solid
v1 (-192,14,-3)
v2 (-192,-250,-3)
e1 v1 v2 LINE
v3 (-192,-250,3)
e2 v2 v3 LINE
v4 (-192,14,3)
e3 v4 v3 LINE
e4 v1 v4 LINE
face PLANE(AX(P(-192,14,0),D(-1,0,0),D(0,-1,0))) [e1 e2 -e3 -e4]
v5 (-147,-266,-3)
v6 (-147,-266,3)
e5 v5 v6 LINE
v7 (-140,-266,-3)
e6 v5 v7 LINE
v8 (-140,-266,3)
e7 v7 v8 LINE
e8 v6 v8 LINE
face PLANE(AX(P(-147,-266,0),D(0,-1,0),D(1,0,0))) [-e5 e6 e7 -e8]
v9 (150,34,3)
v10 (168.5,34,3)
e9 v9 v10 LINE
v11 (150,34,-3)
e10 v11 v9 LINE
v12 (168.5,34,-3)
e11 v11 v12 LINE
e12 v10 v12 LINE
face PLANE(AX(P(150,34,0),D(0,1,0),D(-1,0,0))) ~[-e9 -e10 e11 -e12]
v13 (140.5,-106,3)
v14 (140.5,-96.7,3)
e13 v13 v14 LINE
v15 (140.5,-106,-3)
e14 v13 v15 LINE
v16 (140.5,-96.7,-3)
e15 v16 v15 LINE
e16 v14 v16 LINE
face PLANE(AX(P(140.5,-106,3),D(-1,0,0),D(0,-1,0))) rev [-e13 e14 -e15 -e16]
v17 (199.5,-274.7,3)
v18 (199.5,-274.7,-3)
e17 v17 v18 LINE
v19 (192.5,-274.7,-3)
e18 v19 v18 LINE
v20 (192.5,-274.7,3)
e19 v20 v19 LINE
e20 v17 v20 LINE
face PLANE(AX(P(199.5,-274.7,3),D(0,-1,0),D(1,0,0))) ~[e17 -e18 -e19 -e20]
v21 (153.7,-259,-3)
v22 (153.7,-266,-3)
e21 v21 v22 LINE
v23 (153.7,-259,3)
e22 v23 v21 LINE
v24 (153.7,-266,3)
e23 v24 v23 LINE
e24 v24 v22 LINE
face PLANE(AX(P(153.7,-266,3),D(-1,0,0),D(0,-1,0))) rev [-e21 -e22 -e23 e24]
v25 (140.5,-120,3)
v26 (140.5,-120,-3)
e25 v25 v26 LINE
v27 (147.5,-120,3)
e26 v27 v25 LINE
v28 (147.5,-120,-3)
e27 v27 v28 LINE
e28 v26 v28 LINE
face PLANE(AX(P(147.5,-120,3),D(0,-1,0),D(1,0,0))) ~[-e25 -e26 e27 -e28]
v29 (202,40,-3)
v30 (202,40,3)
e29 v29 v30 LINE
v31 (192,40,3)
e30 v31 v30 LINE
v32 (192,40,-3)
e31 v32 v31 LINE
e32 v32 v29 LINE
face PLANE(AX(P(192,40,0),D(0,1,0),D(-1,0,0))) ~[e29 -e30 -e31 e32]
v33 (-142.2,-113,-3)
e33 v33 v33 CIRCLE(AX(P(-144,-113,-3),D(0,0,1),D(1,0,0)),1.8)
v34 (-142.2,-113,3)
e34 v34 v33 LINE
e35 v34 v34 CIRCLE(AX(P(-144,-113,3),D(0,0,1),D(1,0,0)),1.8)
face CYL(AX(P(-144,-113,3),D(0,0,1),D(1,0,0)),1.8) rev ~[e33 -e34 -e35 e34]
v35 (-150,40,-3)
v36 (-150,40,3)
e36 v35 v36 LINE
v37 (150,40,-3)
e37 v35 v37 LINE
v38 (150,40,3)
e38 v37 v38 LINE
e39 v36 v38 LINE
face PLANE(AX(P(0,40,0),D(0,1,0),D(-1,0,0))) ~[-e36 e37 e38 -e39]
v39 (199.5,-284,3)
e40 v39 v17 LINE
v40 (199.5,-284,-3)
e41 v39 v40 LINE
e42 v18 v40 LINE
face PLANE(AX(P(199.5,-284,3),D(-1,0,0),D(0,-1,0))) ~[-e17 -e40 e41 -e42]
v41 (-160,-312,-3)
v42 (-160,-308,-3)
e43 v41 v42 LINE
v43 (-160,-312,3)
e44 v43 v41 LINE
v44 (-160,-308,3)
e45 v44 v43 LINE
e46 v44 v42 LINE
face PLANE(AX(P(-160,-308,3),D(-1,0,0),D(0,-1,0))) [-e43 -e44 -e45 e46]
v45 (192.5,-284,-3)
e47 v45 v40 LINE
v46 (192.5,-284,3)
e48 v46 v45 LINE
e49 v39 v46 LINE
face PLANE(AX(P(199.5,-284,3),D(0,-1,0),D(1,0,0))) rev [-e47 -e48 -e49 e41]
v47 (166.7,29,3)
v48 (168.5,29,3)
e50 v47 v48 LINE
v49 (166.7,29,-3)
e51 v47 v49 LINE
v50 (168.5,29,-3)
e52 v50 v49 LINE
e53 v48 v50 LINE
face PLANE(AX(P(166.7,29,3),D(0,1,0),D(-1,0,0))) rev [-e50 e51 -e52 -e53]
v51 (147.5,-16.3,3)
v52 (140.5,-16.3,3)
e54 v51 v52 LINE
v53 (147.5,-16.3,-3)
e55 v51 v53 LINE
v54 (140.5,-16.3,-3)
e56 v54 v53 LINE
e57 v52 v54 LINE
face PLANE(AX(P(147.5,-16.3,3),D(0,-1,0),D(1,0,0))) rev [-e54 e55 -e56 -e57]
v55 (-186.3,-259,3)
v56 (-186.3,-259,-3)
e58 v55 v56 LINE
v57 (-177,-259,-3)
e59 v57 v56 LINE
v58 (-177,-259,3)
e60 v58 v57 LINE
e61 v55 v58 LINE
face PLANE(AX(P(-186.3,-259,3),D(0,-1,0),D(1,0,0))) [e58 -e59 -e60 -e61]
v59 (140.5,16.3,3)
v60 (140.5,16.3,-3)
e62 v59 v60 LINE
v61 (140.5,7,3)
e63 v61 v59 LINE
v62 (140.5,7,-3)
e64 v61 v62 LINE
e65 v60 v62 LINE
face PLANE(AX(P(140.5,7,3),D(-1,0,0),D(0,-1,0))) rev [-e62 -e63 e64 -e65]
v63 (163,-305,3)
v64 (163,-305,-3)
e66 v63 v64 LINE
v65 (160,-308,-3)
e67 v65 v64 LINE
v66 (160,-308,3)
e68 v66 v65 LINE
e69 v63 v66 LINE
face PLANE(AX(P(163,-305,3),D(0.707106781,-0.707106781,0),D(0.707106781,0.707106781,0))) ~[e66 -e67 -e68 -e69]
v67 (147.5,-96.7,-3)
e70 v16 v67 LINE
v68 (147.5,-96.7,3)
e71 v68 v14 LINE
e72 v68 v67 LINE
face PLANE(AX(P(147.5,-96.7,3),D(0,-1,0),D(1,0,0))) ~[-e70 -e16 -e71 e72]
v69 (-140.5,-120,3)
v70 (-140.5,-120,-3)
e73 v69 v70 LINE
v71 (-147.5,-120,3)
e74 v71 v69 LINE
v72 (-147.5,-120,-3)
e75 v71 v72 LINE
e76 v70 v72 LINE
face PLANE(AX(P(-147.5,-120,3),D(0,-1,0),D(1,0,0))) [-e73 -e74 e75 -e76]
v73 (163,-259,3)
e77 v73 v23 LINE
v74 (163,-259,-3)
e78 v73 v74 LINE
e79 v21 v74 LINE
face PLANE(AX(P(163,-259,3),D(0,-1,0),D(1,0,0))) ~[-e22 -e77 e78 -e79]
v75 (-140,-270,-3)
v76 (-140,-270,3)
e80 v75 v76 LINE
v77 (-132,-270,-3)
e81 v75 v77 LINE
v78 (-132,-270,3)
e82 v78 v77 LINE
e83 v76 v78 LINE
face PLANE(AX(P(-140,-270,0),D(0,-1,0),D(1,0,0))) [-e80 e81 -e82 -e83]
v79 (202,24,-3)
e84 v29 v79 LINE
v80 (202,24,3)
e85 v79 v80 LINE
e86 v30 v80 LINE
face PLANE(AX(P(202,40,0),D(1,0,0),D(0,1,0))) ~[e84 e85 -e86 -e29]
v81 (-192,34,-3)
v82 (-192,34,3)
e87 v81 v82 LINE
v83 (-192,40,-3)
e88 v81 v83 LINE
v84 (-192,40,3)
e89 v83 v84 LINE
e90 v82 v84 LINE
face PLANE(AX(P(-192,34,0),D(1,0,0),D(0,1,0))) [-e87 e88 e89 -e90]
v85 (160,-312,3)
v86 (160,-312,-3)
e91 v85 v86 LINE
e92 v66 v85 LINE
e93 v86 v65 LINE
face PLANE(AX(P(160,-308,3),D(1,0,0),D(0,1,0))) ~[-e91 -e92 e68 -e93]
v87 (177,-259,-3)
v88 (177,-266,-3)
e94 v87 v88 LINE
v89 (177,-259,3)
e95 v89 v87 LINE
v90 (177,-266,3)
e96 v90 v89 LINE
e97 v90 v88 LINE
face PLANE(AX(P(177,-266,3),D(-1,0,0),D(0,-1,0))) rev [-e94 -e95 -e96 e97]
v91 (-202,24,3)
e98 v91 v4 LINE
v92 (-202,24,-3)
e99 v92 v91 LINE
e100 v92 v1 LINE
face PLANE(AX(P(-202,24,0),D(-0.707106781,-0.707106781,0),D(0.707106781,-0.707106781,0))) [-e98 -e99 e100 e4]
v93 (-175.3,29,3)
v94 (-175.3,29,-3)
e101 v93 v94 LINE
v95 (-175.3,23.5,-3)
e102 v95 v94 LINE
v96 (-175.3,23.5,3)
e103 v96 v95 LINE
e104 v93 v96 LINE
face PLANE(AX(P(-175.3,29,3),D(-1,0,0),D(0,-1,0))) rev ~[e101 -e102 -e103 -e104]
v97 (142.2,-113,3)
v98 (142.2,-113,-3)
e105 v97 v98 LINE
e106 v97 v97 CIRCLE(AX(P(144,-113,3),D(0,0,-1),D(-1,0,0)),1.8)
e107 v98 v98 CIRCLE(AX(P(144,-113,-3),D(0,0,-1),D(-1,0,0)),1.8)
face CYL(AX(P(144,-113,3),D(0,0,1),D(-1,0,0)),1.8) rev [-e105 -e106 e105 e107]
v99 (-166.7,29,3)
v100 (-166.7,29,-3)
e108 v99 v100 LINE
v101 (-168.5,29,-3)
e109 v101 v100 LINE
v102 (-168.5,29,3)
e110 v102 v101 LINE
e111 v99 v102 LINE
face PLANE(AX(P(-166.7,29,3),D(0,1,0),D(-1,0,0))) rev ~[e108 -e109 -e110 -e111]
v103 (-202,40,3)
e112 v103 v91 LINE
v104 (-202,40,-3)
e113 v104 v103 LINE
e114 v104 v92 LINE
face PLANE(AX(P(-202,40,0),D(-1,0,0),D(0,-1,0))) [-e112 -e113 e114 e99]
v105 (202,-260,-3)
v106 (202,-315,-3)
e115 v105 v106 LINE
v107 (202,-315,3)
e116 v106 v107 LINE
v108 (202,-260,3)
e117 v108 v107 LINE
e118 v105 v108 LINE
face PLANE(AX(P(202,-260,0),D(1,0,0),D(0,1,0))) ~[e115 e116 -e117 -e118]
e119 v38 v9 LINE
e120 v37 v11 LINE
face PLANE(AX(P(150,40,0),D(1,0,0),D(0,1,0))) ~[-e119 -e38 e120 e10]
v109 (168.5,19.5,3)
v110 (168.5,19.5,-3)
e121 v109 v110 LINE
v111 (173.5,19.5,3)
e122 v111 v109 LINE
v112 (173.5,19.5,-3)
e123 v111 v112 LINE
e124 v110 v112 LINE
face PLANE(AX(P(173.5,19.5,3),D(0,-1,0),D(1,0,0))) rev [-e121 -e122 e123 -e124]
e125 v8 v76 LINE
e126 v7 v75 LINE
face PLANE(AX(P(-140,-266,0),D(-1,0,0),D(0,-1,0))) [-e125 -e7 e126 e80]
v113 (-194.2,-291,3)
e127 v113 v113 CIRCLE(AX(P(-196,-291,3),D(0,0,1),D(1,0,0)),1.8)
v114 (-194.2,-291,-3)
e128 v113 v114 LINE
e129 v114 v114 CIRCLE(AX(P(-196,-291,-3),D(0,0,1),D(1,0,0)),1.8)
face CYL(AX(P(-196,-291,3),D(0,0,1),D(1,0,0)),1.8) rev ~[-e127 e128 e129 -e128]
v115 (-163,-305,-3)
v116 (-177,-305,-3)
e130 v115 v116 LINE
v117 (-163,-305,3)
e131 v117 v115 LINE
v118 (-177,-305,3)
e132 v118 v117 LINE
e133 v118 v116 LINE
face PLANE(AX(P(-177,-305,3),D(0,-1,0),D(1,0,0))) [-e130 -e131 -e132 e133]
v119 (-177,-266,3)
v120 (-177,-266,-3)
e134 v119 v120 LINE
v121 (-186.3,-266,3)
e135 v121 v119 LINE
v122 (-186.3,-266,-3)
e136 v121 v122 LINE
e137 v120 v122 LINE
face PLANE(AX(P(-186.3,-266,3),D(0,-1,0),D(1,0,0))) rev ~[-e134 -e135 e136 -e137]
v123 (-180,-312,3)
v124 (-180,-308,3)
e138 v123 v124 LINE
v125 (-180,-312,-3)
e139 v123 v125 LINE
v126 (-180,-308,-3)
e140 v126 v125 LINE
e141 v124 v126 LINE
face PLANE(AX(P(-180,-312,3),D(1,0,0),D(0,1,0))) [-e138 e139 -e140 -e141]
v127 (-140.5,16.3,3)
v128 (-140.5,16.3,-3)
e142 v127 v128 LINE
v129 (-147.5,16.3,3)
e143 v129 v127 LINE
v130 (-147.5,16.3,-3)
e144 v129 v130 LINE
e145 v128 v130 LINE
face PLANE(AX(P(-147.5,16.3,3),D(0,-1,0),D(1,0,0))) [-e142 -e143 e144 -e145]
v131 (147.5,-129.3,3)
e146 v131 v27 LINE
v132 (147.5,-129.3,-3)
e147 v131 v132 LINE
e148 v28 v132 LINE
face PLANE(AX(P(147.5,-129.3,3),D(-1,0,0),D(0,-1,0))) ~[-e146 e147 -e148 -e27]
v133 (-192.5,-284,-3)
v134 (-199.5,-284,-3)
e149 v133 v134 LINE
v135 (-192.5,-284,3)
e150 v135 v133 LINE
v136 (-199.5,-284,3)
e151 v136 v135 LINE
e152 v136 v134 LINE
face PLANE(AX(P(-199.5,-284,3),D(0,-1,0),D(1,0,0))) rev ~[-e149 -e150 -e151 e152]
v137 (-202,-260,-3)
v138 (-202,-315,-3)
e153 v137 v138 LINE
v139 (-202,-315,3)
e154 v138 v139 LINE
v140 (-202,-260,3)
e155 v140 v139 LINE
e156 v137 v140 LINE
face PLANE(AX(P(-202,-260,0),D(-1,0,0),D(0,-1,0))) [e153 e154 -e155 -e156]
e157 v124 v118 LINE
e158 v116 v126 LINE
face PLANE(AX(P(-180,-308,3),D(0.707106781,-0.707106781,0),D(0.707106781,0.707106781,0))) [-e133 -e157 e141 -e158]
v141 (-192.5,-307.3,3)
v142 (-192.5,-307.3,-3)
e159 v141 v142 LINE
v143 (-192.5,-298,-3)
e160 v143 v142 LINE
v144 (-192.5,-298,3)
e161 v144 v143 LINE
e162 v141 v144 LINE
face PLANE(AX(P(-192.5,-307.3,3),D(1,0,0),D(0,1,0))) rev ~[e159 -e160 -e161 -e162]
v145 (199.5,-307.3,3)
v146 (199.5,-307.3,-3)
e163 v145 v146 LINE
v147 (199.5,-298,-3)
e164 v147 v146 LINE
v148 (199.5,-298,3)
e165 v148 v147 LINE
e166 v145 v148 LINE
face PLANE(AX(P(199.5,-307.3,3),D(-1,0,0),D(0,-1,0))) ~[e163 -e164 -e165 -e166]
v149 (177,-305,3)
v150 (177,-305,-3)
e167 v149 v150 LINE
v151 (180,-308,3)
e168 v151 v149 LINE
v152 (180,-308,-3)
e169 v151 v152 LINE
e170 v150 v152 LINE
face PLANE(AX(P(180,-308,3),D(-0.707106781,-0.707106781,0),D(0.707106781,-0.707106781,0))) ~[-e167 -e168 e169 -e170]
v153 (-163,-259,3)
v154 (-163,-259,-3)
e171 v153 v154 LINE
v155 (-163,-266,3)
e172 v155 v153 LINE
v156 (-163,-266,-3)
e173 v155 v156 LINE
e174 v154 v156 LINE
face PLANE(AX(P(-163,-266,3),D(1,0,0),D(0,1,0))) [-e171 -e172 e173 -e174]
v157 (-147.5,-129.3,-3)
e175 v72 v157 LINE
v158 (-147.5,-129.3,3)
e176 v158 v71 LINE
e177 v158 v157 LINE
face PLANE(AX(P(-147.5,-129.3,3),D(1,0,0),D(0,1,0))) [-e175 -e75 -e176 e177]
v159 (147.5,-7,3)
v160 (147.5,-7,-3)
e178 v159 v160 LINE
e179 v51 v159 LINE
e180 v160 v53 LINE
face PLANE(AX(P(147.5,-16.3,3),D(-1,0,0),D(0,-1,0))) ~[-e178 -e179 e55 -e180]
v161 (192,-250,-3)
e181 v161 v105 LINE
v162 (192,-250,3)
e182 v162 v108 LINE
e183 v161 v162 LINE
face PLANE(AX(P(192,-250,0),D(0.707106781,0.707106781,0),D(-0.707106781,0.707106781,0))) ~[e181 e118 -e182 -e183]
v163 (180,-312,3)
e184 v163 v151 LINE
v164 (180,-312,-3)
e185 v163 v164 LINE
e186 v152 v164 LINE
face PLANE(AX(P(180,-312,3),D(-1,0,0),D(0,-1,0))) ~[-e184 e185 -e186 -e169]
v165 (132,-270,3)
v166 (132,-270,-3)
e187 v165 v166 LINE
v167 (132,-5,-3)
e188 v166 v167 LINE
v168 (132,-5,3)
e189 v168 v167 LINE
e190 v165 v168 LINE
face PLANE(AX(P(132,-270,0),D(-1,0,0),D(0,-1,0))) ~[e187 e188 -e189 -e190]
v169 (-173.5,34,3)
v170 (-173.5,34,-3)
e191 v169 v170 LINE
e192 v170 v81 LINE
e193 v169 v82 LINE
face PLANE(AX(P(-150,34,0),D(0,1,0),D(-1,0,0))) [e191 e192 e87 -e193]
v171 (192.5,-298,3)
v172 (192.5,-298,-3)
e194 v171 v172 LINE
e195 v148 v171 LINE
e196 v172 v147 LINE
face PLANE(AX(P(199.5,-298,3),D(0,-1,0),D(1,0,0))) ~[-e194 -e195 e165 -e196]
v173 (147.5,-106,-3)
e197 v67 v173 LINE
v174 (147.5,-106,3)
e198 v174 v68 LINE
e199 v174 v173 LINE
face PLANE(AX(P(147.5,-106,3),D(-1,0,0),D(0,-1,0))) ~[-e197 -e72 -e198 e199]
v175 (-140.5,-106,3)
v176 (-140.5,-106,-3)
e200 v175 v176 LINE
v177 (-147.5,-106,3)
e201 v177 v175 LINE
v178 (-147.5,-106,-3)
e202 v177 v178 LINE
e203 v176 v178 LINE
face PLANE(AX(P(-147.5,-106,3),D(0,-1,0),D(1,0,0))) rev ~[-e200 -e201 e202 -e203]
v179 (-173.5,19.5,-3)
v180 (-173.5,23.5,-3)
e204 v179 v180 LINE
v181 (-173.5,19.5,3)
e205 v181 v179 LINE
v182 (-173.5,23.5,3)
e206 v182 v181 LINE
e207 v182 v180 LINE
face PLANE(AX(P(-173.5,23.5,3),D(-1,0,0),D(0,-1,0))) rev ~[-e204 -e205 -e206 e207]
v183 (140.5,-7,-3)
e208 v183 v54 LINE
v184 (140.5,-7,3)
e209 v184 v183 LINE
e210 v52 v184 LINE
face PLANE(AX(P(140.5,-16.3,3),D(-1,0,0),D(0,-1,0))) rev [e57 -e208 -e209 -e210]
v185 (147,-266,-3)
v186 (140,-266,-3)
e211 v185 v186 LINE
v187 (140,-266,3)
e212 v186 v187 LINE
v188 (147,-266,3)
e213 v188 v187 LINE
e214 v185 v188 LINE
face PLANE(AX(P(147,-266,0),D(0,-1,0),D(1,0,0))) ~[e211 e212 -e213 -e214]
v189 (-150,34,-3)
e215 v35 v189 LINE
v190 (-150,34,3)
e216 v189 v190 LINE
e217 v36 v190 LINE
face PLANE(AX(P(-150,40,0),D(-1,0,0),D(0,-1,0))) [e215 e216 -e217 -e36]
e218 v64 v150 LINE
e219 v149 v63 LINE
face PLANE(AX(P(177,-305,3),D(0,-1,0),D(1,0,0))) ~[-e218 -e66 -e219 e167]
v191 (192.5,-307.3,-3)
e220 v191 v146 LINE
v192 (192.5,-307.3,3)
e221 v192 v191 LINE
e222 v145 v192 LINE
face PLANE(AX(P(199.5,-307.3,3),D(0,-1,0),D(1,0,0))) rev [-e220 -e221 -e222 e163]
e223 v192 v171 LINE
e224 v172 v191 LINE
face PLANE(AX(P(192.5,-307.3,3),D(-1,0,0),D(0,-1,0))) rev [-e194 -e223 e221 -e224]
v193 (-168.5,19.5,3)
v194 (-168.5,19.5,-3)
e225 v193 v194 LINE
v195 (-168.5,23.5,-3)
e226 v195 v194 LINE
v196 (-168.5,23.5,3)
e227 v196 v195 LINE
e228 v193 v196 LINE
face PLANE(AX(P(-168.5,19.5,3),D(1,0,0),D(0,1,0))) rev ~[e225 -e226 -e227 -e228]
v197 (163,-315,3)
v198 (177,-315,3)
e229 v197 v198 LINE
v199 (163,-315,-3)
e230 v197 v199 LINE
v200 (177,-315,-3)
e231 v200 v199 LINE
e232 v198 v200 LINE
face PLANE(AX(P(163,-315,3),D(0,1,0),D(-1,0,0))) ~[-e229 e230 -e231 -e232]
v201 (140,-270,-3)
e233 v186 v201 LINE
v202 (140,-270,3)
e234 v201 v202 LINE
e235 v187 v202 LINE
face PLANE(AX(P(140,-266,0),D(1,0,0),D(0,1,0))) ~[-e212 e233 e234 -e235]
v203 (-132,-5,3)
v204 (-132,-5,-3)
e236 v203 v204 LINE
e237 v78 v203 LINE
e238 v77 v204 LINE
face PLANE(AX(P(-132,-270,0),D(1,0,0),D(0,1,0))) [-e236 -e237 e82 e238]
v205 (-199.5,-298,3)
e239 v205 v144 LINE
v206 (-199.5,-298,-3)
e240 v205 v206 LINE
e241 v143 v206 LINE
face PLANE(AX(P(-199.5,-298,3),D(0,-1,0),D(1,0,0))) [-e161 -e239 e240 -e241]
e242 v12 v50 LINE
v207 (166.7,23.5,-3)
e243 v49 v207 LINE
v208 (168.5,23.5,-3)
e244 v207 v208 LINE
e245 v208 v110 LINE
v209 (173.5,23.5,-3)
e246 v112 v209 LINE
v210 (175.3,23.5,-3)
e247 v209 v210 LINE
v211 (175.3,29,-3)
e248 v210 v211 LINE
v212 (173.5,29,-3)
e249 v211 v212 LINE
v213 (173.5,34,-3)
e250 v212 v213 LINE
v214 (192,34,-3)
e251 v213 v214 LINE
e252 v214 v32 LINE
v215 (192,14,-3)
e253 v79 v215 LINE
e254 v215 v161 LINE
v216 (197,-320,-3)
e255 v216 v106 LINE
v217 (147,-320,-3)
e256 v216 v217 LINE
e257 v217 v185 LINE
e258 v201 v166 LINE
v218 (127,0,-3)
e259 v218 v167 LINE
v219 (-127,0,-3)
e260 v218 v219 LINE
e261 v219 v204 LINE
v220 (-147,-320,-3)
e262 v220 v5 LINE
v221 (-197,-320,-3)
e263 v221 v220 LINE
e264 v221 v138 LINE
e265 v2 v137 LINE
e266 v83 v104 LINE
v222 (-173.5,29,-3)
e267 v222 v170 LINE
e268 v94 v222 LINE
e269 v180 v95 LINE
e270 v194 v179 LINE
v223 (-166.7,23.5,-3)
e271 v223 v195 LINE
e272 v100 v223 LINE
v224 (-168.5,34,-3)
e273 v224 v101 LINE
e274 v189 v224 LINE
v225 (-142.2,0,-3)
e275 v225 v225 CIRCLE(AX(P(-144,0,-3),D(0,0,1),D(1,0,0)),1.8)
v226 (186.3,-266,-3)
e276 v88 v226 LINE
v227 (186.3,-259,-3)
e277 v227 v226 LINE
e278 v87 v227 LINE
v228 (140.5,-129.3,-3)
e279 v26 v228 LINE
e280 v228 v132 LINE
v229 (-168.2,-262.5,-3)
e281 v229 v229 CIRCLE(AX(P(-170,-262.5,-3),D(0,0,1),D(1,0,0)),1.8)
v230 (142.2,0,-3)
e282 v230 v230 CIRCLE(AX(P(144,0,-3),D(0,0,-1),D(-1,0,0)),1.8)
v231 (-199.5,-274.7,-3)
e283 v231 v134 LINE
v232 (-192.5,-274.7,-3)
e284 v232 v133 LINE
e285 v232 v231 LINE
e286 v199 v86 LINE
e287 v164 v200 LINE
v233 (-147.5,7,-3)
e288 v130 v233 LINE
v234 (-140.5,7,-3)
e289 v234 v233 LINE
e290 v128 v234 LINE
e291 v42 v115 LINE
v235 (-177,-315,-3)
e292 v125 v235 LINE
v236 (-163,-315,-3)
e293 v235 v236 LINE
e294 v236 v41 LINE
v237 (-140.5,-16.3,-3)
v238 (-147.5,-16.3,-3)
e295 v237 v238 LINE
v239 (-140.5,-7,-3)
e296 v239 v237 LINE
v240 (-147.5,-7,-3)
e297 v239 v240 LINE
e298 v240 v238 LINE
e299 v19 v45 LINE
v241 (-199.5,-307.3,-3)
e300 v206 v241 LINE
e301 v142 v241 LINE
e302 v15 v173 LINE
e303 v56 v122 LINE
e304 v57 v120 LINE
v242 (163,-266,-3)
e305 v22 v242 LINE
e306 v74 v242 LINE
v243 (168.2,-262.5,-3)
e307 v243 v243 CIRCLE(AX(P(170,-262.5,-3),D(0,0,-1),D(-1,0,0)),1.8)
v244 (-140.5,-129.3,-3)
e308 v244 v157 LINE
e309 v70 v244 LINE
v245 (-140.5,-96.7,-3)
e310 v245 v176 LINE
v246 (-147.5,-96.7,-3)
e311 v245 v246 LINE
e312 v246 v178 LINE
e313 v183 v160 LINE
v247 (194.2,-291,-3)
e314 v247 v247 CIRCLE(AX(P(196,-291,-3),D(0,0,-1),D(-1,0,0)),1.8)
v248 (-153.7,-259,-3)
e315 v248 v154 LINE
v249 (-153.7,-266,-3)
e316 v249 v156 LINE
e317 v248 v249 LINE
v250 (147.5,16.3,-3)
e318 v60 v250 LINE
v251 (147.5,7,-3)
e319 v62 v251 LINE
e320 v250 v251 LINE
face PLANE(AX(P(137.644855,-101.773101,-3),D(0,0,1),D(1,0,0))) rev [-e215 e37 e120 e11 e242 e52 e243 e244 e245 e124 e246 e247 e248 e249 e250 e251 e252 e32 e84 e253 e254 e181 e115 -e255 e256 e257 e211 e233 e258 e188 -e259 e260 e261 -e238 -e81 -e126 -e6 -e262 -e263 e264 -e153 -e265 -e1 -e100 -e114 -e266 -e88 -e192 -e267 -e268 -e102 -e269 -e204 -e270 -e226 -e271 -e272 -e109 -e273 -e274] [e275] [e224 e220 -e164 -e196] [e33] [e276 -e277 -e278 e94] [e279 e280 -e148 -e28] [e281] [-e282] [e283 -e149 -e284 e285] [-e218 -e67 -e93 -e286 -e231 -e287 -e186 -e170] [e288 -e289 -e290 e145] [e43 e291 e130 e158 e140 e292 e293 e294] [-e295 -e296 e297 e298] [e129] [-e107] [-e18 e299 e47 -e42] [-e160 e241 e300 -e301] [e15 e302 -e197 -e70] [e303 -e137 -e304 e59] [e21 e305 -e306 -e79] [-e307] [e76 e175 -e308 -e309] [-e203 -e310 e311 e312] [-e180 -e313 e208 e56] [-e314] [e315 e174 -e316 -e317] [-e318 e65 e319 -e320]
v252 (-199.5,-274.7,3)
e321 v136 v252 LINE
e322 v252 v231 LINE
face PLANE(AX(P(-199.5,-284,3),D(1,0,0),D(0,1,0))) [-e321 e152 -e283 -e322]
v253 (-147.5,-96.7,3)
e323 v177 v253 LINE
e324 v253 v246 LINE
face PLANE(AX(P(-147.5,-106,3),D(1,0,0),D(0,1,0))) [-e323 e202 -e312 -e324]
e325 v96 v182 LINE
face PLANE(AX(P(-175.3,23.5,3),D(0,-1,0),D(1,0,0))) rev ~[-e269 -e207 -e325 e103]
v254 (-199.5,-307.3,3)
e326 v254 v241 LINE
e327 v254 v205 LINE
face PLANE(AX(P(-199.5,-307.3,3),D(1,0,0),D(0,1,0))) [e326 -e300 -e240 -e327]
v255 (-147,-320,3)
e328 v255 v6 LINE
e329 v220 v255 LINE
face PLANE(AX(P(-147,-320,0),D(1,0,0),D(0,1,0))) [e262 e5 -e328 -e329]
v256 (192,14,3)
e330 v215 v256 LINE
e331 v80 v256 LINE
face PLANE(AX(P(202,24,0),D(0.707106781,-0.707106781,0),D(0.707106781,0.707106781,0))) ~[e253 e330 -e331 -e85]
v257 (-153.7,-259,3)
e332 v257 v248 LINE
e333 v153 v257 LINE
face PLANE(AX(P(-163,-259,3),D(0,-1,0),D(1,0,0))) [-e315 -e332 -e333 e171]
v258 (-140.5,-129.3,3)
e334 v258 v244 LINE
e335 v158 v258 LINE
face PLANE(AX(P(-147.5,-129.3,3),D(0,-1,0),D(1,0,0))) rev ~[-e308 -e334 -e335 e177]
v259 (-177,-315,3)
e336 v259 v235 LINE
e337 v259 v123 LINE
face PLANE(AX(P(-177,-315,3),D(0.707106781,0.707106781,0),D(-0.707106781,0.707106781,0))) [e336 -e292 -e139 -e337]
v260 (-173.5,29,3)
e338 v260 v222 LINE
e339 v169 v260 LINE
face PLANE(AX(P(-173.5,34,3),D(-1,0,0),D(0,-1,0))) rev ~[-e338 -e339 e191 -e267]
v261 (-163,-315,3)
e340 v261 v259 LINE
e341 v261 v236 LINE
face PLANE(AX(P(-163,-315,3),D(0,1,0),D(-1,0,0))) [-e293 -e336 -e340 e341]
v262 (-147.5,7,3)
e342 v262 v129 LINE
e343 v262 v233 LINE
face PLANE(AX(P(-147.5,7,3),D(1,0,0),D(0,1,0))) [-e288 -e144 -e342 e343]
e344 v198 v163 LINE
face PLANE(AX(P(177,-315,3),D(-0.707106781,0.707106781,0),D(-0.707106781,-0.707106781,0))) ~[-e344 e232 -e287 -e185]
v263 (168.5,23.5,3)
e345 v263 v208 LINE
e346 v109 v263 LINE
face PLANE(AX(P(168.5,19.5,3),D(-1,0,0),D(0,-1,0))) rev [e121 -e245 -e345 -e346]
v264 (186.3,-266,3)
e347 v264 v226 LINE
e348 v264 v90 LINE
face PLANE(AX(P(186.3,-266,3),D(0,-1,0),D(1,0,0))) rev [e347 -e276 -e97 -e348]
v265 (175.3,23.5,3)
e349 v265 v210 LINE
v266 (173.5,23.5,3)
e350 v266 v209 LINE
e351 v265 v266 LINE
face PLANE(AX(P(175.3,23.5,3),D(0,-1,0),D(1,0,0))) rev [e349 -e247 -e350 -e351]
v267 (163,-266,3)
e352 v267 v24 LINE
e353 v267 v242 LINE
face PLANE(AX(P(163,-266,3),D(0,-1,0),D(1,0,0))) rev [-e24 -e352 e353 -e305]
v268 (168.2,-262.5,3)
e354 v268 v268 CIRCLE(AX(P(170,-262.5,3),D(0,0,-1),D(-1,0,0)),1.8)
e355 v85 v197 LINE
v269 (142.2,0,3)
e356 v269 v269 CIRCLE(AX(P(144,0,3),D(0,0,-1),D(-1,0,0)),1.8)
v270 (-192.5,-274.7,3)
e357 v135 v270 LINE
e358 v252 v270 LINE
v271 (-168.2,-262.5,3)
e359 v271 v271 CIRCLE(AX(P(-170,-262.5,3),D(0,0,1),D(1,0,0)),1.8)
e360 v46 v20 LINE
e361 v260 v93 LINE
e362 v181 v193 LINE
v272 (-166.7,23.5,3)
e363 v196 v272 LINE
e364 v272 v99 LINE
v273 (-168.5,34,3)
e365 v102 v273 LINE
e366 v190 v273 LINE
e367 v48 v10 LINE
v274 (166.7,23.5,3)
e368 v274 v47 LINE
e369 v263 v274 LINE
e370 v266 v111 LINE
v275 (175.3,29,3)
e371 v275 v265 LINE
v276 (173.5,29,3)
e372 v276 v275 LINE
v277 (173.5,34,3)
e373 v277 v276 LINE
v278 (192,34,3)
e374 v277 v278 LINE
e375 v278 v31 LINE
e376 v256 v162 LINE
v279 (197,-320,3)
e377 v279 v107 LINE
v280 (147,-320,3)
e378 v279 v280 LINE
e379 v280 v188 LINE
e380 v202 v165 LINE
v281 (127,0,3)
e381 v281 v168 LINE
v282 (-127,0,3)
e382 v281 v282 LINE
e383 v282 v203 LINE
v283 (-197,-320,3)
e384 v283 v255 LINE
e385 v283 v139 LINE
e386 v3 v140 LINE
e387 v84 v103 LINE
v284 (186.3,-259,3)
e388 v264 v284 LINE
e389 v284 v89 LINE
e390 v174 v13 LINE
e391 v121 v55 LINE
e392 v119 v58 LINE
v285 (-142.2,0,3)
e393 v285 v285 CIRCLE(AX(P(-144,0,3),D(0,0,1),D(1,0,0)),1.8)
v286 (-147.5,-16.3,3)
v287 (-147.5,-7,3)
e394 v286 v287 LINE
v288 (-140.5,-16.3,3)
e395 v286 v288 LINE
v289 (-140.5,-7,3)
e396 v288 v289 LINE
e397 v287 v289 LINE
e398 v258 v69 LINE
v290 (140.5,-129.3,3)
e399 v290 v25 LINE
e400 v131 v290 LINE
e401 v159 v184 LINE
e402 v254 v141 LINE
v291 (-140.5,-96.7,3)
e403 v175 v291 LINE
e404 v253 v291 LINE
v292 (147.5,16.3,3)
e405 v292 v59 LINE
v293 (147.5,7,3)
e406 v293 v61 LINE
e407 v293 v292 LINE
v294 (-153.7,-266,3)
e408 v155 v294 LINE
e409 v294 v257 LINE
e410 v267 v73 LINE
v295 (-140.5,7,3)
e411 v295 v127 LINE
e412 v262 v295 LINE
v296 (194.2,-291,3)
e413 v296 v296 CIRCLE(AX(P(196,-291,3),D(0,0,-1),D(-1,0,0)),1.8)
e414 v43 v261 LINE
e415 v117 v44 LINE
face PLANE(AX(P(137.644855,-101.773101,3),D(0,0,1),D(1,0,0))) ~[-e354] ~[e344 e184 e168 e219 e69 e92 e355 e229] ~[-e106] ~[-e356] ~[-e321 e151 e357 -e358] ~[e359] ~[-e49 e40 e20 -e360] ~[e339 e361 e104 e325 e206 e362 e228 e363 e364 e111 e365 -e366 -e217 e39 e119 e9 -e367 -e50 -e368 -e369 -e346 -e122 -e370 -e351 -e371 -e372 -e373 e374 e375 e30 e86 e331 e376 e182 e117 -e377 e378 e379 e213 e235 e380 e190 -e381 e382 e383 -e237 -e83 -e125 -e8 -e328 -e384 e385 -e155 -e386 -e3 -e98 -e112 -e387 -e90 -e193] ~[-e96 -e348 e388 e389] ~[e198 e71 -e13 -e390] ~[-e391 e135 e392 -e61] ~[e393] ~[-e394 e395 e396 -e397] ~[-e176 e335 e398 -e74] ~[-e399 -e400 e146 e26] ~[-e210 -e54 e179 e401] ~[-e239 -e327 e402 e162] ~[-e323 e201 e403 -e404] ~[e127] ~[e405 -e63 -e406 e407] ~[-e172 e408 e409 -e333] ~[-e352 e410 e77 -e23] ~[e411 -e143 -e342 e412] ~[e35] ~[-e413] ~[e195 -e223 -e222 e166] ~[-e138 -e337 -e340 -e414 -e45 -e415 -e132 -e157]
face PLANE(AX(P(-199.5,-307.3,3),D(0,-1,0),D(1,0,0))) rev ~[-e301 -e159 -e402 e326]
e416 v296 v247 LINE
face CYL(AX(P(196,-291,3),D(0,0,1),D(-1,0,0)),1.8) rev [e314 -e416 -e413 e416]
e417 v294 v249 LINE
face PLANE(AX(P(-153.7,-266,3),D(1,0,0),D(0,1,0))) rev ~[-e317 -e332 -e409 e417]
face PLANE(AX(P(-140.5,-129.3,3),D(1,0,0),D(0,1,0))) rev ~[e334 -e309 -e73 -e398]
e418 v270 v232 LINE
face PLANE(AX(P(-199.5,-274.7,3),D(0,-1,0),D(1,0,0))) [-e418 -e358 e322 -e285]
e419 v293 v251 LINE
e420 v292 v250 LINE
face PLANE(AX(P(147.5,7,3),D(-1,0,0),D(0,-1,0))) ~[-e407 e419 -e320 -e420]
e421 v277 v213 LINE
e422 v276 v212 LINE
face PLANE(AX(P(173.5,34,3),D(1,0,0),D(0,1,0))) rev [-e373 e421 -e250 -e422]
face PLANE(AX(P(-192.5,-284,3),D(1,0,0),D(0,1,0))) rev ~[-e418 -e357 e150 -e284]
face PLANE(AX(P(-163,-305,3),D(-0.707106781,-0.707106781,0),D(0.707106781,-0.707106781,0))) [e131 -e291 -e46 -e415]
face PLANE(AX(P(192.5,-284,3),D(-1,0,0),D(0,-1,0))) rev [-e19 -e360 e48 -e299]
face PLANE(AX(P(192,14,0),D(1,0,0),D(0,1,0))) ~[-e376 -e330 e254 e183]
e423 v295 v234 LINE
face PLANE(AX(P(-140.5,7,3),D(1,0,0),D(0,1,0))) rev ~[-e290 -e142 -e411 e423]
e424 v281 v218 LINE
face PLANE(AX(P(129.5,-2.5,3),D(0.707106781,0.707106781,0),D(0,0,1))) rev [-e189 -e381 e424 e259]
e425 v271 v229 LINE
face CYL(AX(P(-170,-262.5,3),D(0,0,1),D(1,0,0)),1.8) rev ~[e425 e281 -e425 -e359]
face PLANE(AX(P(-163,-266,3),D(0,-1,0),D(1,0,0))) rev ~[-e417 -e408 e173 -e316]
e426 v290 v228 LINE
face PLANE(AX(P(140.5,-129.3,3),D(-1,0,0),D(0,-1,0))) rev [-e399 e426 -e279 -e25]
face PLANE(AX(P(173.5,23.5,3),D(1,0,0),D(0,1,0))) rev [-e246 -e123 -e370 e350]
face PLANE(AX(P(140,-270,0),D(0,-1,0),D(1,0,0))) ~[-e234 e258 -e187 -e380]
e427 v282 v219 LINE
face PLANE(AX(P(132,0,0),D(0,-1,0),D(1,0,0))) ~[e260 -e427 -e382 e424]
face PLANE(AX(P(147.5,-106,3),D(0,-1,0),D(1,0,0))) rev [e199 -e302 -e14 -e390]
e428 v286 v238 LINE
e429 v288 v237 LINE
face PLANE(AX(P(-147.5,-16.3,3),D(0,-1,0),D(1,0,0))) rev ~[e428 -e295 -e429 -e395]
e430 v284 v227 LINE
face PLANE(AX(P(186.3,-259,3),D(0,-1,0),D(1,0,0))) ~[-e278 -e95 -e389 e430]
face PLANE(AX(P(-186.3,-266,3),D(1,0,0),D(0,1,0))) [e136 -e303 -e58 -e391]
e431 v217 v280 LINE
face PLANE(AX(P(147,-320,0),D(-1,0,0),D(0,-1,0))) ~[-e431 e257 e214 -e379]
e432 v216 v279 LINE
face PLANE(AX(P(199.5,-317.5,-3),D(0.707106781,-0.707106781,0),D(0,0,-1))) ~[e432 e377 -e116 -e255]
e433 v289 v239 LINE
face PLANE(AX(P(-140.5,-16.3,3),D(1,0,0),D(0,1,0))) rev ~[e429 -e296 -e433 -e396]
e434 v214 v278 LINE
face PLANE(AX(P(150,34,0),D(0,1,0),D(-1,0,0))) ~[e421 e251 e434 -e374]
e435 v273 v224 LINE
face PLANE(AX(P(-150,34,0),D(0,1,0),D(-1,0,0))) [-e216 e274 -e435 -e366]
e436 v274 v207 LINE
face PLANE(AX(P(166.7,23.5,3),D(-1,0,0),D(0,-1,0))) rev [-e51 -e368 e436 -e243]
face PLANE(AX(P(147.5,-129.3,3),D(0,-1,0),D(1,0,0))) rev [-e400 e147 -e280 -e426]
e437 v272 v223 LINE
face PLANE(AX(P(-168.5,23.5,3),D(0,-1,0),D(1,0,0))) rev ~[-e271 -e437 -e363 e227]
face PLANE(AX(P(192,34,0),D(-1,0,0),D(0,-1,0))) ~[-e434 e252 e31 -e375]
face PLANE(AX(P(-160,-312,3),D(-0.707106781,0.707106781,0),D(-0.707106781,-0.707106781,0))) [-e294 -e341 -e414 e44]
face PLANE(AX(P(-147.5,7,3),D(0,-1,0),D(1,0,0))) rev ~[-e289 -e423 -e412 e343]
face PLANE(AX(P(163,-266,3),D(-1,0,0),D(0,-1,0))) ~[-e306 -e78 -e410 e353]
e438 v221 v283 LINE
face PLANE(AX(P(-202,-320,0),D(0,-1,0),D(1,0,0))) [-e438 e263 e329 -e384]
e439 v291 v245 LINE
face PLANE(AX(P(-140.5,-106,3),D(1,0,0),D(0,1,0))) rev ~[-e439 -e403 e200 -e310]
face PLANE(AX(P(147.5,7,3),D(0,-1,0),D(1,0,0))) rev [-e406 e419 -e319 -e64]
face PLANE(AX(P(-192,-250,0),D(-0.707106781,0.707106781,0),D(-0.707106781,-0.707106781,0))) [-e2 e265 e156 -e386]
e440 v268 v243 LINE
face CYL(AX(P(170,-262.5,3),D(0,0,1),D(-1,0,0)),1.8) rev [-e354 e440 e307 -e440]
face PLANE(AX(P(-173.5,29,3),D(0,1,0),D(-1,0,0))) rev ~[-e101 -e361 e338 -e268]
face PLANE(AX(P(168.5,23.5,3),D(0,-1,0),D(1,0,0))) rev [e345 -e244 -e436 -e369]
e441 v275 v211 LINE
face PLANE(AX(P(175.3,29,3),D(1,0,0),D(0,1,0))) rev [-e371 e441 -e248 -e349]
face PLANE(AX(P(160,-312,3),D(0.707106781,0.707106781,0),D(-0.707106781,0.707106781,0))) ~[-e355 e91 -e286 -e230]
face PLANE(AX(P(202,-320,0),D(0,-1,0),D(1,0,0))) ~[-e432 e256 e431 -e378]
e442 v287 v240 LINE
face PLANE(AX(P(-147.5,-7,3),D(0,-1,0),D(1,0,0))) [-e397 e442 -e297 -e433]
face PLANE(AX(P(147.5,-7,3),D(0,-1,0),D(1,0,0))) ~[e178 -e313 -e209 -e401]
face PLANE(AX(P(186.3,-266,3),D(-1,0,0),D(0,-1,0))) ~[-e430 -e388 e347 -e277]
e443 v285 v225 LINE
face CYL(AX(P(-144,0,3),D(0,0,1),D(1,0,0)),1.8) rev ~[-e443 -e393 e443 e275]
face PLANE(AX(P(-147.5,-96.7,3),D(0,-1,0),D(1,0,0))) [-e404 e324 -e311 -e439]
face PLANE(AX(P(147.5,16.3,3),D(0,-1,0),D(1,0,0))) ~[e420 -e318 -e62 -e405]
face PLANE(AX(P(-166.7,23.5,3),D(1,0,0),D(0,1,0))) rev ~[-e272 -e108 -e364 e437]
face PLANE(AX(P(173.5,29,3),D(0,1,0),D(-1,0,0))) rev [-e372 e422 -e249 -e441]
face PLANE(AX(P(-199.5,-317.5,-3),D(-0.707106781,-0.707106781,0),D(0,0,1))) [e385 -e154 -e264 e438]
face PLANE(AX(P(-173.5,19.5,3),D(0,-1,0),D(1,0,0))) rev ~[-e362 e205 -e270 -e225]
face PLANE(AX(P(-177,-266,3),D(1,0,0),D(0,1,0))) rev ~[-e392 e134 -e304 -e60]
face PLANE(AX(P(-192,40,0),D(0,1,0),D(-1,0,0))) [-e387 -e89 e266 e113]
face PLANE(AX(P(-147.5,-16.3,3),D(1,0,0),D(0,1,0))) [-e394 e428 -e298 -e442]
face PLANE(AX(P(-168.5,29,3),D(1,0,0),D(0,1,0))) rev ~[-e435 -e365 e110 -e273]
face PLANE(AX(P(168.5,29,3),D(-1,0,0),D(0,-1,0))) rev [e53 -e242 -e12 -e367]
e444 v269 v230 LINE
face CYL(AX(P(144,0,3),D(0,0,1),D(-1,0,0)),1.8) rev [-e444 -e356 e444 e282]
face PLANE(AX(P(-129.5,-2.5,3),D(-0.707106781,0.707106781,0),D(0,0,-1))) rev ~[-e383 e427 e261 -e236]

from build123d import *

# Parameters (mm, degrees)
BOSS_EXTRU_1_DEPTH      = 3
ENL_V_MAT_EXTRU_1_REACH = 8
ESQUISSE2_W             = 7
ESQUISSE2_H             = 9.3
ESQUISSE2_R             = 1.8
ESQUISSE2_W_2           = 9.3
ESQUISSE2_H_2           = 7
CHANFREIN1_SIZE         = 5


with BuildPart() as part:
    # Esquisse1 → Boss.-Extru.1 (new body, symmetric)
    with BuildSketch(Plane.XY):
        Polygon((0, 0), (0, 40), (-150, 40), (-150, 34), (-192, 34), (-192, 40), (-202, 40), (-202, 24), (-192, 14), (-192, -250), (-202, -260), (-202, -320), (-147, -320), (-147, -266), (-140, -266), (-140, -270), (-132, -270), (-132, 0), align=None)
    extrude(amount=BOSS_EXTRU_1_DEPTH, both=True)

    # Esquisse2 → Enlèv. mat.-Extru.1 (cut, up to next)
    with BuildSketch(Plane.XY.offset(3), mode=Mode.PRIVATE) as enl_v_mat_extru_1_sk1:
        with Locations((-144, 11.65)):
            Rectangle(ESQUISSE2_W, ESQUISSE2_H)
    enl_v_mat_extru_1_tool1 = extrude(enl_v_mat_extru_1_sk1.sketch, amount=-ENL_V_MAT_EXTRU_1_REACH, mode=Mode.PRIVATE) & part.part
    add(enl_v_mat_extru_1_tool1.solids().sort_by_distance((-144, 11.65, 3))[0], mode=Mode.SUBTRACT)
    # Esquisse2 → Enlèv. mat.-Extru.1 (cut, up to next)
    with BuildSketch(Plane.XY.offset(3), mode=Mode.PRIVATE) as enl_v_mat_extru_1_sk2:
        with Locations((-144, -11.65)):
            Rectangle(ESQUISSE2_W, ESQUISSE2_H)
    enl_v_mat_extru_1_tool2 = extrude(enl_v_mat_extru_1_sk2.sketch, amount=-ENL_V_MAT_EXTRU_1_REACH, mode=Mode.PRIVATE) & part.part
    add(enl_v_mat_extru_1_tool2.solids().sort_by_distance((-144, -11.65, 3))[0], mode=Mode.SUBTRACT)
    # Esquisse2 → Enlèv. mat.-Extru.1 (cut, up to next)
    with BuildSketch(Plane.XY.offset(3), mode=Mode.PRIVATE) as enl_v_mat_extru_1_sk3:
        with Locations((-144, -101.35)):
            Rectangle(ESQUISSE2_W, ESQUISSE2_H)
    enl_v_mat_extru_1_tool3 = extrude(enl_v_mat_extru_1_sk3.sketch, amount=-ENL_V_MAT_EXTRU_1_REACH, mode=Mode.PRIVATE) & part.part
    add(enl_v_mat_extru_1_tool3.solids().sort_by_distance((-144, -101.35, 3))[0], mode=Mode.SUBTRACT)
    # Esquisse2 → Enlèv. mat.-Extru.1 (cut, up to next)
    with BuildSketch(Plane.XY.offset(3), mode=Mode.PRIVATE) as enl_v_mat_extru_1_sk4:
        with Locations((-144, -113)):
            Circle(ESQUISSE2_R)
    enl_v_mat_extru_1_tool4 = extrude(enl_v_mat_extru_1_sk4.sketch, amount=-ENL_V_MAT_EXTRU_1_REACH, mode=Mode.PRIVATE) & part.part
    add(enl_v_mat_extru_1_tool4.solids().sort_by_distance((-144, -113, 3))[0], mode=Mode.SUBTRACT)
    # Esquisse2 → Enlèv. mat.-Extru.1 (cut, up to next)
    with BuildSketch(Plane.XY.offset(3), mode=Mode.PRIVATE) as enl_v_mat_extru_1_sk5:
        with Locations((-144, 0)):
            Circle(ESQUISSE2_R)
    enl_v_mat_extru_1_tool5 = extrude(enl_v_mat_extru_1_sk5.sketch, amount=-ENL_V_MAT_EXTRU_1_REACH, mode=Mode.PRIVATE) & part.part
    add(enl_v_mat_extru_1_tool5.solids().sort_by_distance((-144, 0, 3))[0], mode=Mode.SUBTRACT)
    # Esquisse2 → Enlèv. mat.-Extru.1 (cut, up to next)
    with BuildSketch(Plane.XY.offset(3), mode=Mode.PRIVATE) as enl_v_mat_extru_1_sk6:
        Polygon((-168.5, 34), (-173.5, 34), (-173.5, 29), (-175.3, 29), (-175.3, 23.5), (-173.5, 23.5), (-173.5, 19.5), (-168.5, 19.5), (-168.5, 23.5), (-166.7, 23.5), (-166.7, 29), (-168.5, 29), align=None)
    enl_v_mat_extru_1_tool6 = extrude(enl_v_mat_extru_1_sk6.sketch, amount=-ENL_V_MAT_EXTRU_1_REACH, mode=Mode.PRIVATE) & part.part
    add(enl_v_mat_extru_1_tool6.solids().sort_by_distance((-171, 26.642741, 3))[0], mode=Mode.SUBTRACT)
    # Esquisse2 → Enlèv. mat.-Extru.1 (cut, up to next)
    with BuildSketch(Plane.XY.offset(3), mode=Mode.PRIVATE) as enl_v_mat_extru_1_sk7:
        with Locations((-144, -124.65)):
            Rectangle(ESQUISSE2_W, ESQUISSE2_H)
    enl_v_mat_extru_1_tool7 = extrude(enl_v_mat_extru_1_sk7.sketch, amount=-ENL_V_MAT_EXTRU_1_REACH, mode=Mode.PRIVATE) & part.part
    add(enl_v_mat_extru_1_tool7.solids().sort_by_distance((-144, -124.65, 3))[0], mode=Mode.SUBTRACT)
    # Esquisse2 → Enlèv. mat.-Extru.1 (cut, up to next)
    with BuildSketch(Plane.XY.offset(3), mode=Mode.PRIVATE) as enl_v_mat_extru_1_sk8:
        with Locations((-158.35, -262.5)):
            Rectangle(ESQUISSE2_W_2, ESQUISSE2_H_2)
    enl_v_mat_extru_1_tool8 = extrude(enl_v_mat_extru_1_sk8.sketch, amount=-ENL_V_MAT_EXTRU_1_REACH, mode=Mode.PRIVATE) & part.part
    add(enl_v_mat_extru_1_tool8.solids().sort_by_distance((-158.35, -262.5, 3))[0], mode=Mode.SUBTRACT)
    # Esquisse2 → Enlèv. mat.-Extru.1 (cut, up to next)
    with BuildSketch(Plane.XY.offset(3), mode=Mode.PRIVATE) as enl_v_mat_extru_1_sk9:
        with Locations((-170, -262.5)):
            Circle(ESQUISSE2_R)
    enl_v_mat_extru_1_tool9 = extrude(enl_v_mat_extru_1_sk9.sketch, amount=-ENL_V_MAT_EXTRU_1_REACH, mode=Mode.PRIVATE) & part.part
    add(enl_v_mat_extru_1_tool9.solids().sort_by_distance((-170, -262.5, 3))[0], mode=Mode.SUBTRACT)
    # Esquisse2 → Enlèv. mat.-Extru.1 (cut, up to next)
    with BuildSketch(Plane.XY.offset(3), mode=Mode.PRIVATE) as enl_v_mat_extru_1_sk10:
        with Locations((-181.65, -262.5)):
            Rectangle(ESQUISSE2_W_2, ESQUISSE2_H_2)
    enl_v_mat_extru_1_tool10 = extrude(enl_v_mat_extru_1_sk10.sketch, amount=-ENL_V_MAT_EXTRU_1_REACH, mode=Mode.PRIVATE) & part.part
    add(enl_v_mat_extru_1_tool10.solids().sort_by_distance((-181.65, -262.5, 3))[0], mode=Mode.SUBTRACT)
    # Esquisse2 → Enlèv. mat.-Extru.1 (cut, up to next)
    with BuildSketch(Plane.XY.offset(3), mode=Mode.PRIVATE) as enl_v_mat_extru_1_sk11:
        with Locations((-196, -279.35)):
            Rectangle(ESQUISSE2_W, ESQUISSE2_H)
    enl_v_mat_extru_1_tool11 = extrude(enl_v_mat_extru_1_sk11.sketch, amount=-ENL_V_MAT_EXTRU_1_REACH, mode=Mode.PRIVATE) & part.part
    add(enl_v_mat_extru_1_tool11.solids().sort_by_distance((-196, -279.35, 3))[0], mode=Mode.SUBTRACT)
    # Esquisse2 → Enlèv. mat.-Extru.1 (cut, up to next)
    with BuildSketch(Plane.XY.offset(3), mode=Mode.PRIVATE) as enl_v_mat_extru_1_sk12:
        with Locations((-196, -291)):
            Circle(ESQUISSE2_R)
    enl_v_mat_extru_1_tool12 = extrude(enl_v_mat_extru_1_sk12.sketch, amount=-ENL_V_MAT_EXTRU_1_REACH, mode=Mode.PRIVATE) & part.part
    add(enl_v_mat_extru_1_tool12.solids().sort_by_distance((-196, -291, 3))[0], mode=Mode.SUBTRACT)
    # Esquisse2 → Enlèv. mat.-Extru.1 (cut, up to next)
    with BuildSketch(Plane.XY.offset(3), mode=Mode.PRIVATE) as enl_v_mat_extru_1_sk13:
        with Locations((-196, -302.65)):
            Rectangle(ESQUISSE2_W, ESQUISSE2_H)
    enl_v_mat_extru_1_tool13 = extrude(enl_v_mat_extru_1_sk13.sketch, amount=-ENL_V_MAT_EXTRU_1_REACH, mode=Mode.PRIVATE) & part.part
    add(enl_v_mat_extru_1_tool13.solids().sort_by_distance((-196, -302.65, 3))[0], mode=Mode.SUBTRACT)
    # Esquisse2 → Enlèv. mat.-Extru.1 (cut, up to next)
    with BuildSketch(Plane.XY.offset(3), mode=Mode.PRIVATE) as enl_v_mat_extru_1_sk14:
        Polygon((-180, -312), (-180, -308), (-177, -305), (-163, -305), (-160, -308), (-160, -312), (-163, -315), (-177, -315), align=None)
    enl_v_mat_extru_1_tool14 = extrude(enl_v_mat_extru_1_sk14.sketch, amount=-ENL_V_MAT_EXTRU_1_REACH, mode=Mode.PRIVATE) & part.part
    add(enl_v_mat_extru_1_tool14.solids().sort_by_distance((-170, -310, 3))[0], mode=Mode.SUBTRACT)

    # Chanfrein1
    chanfrein1_edges = [part.edges().sort_by_distance(p)[0] for p in [
        (-132, 0, 0),
        (-202, -320, 0),
    ]]
    chamfer(chanfrein1_edges, length=CHANFREIN1_SIZE)

    # Symétrie1: part across plane


with BuildPart() as part_1:
    add(part.part)
    add(part.part.mirror(Plane(origin=(0, 0, 3), x_dir=(0, 0, 1), z_dir=(-1, 0, 0))))


solid = part_1.part
